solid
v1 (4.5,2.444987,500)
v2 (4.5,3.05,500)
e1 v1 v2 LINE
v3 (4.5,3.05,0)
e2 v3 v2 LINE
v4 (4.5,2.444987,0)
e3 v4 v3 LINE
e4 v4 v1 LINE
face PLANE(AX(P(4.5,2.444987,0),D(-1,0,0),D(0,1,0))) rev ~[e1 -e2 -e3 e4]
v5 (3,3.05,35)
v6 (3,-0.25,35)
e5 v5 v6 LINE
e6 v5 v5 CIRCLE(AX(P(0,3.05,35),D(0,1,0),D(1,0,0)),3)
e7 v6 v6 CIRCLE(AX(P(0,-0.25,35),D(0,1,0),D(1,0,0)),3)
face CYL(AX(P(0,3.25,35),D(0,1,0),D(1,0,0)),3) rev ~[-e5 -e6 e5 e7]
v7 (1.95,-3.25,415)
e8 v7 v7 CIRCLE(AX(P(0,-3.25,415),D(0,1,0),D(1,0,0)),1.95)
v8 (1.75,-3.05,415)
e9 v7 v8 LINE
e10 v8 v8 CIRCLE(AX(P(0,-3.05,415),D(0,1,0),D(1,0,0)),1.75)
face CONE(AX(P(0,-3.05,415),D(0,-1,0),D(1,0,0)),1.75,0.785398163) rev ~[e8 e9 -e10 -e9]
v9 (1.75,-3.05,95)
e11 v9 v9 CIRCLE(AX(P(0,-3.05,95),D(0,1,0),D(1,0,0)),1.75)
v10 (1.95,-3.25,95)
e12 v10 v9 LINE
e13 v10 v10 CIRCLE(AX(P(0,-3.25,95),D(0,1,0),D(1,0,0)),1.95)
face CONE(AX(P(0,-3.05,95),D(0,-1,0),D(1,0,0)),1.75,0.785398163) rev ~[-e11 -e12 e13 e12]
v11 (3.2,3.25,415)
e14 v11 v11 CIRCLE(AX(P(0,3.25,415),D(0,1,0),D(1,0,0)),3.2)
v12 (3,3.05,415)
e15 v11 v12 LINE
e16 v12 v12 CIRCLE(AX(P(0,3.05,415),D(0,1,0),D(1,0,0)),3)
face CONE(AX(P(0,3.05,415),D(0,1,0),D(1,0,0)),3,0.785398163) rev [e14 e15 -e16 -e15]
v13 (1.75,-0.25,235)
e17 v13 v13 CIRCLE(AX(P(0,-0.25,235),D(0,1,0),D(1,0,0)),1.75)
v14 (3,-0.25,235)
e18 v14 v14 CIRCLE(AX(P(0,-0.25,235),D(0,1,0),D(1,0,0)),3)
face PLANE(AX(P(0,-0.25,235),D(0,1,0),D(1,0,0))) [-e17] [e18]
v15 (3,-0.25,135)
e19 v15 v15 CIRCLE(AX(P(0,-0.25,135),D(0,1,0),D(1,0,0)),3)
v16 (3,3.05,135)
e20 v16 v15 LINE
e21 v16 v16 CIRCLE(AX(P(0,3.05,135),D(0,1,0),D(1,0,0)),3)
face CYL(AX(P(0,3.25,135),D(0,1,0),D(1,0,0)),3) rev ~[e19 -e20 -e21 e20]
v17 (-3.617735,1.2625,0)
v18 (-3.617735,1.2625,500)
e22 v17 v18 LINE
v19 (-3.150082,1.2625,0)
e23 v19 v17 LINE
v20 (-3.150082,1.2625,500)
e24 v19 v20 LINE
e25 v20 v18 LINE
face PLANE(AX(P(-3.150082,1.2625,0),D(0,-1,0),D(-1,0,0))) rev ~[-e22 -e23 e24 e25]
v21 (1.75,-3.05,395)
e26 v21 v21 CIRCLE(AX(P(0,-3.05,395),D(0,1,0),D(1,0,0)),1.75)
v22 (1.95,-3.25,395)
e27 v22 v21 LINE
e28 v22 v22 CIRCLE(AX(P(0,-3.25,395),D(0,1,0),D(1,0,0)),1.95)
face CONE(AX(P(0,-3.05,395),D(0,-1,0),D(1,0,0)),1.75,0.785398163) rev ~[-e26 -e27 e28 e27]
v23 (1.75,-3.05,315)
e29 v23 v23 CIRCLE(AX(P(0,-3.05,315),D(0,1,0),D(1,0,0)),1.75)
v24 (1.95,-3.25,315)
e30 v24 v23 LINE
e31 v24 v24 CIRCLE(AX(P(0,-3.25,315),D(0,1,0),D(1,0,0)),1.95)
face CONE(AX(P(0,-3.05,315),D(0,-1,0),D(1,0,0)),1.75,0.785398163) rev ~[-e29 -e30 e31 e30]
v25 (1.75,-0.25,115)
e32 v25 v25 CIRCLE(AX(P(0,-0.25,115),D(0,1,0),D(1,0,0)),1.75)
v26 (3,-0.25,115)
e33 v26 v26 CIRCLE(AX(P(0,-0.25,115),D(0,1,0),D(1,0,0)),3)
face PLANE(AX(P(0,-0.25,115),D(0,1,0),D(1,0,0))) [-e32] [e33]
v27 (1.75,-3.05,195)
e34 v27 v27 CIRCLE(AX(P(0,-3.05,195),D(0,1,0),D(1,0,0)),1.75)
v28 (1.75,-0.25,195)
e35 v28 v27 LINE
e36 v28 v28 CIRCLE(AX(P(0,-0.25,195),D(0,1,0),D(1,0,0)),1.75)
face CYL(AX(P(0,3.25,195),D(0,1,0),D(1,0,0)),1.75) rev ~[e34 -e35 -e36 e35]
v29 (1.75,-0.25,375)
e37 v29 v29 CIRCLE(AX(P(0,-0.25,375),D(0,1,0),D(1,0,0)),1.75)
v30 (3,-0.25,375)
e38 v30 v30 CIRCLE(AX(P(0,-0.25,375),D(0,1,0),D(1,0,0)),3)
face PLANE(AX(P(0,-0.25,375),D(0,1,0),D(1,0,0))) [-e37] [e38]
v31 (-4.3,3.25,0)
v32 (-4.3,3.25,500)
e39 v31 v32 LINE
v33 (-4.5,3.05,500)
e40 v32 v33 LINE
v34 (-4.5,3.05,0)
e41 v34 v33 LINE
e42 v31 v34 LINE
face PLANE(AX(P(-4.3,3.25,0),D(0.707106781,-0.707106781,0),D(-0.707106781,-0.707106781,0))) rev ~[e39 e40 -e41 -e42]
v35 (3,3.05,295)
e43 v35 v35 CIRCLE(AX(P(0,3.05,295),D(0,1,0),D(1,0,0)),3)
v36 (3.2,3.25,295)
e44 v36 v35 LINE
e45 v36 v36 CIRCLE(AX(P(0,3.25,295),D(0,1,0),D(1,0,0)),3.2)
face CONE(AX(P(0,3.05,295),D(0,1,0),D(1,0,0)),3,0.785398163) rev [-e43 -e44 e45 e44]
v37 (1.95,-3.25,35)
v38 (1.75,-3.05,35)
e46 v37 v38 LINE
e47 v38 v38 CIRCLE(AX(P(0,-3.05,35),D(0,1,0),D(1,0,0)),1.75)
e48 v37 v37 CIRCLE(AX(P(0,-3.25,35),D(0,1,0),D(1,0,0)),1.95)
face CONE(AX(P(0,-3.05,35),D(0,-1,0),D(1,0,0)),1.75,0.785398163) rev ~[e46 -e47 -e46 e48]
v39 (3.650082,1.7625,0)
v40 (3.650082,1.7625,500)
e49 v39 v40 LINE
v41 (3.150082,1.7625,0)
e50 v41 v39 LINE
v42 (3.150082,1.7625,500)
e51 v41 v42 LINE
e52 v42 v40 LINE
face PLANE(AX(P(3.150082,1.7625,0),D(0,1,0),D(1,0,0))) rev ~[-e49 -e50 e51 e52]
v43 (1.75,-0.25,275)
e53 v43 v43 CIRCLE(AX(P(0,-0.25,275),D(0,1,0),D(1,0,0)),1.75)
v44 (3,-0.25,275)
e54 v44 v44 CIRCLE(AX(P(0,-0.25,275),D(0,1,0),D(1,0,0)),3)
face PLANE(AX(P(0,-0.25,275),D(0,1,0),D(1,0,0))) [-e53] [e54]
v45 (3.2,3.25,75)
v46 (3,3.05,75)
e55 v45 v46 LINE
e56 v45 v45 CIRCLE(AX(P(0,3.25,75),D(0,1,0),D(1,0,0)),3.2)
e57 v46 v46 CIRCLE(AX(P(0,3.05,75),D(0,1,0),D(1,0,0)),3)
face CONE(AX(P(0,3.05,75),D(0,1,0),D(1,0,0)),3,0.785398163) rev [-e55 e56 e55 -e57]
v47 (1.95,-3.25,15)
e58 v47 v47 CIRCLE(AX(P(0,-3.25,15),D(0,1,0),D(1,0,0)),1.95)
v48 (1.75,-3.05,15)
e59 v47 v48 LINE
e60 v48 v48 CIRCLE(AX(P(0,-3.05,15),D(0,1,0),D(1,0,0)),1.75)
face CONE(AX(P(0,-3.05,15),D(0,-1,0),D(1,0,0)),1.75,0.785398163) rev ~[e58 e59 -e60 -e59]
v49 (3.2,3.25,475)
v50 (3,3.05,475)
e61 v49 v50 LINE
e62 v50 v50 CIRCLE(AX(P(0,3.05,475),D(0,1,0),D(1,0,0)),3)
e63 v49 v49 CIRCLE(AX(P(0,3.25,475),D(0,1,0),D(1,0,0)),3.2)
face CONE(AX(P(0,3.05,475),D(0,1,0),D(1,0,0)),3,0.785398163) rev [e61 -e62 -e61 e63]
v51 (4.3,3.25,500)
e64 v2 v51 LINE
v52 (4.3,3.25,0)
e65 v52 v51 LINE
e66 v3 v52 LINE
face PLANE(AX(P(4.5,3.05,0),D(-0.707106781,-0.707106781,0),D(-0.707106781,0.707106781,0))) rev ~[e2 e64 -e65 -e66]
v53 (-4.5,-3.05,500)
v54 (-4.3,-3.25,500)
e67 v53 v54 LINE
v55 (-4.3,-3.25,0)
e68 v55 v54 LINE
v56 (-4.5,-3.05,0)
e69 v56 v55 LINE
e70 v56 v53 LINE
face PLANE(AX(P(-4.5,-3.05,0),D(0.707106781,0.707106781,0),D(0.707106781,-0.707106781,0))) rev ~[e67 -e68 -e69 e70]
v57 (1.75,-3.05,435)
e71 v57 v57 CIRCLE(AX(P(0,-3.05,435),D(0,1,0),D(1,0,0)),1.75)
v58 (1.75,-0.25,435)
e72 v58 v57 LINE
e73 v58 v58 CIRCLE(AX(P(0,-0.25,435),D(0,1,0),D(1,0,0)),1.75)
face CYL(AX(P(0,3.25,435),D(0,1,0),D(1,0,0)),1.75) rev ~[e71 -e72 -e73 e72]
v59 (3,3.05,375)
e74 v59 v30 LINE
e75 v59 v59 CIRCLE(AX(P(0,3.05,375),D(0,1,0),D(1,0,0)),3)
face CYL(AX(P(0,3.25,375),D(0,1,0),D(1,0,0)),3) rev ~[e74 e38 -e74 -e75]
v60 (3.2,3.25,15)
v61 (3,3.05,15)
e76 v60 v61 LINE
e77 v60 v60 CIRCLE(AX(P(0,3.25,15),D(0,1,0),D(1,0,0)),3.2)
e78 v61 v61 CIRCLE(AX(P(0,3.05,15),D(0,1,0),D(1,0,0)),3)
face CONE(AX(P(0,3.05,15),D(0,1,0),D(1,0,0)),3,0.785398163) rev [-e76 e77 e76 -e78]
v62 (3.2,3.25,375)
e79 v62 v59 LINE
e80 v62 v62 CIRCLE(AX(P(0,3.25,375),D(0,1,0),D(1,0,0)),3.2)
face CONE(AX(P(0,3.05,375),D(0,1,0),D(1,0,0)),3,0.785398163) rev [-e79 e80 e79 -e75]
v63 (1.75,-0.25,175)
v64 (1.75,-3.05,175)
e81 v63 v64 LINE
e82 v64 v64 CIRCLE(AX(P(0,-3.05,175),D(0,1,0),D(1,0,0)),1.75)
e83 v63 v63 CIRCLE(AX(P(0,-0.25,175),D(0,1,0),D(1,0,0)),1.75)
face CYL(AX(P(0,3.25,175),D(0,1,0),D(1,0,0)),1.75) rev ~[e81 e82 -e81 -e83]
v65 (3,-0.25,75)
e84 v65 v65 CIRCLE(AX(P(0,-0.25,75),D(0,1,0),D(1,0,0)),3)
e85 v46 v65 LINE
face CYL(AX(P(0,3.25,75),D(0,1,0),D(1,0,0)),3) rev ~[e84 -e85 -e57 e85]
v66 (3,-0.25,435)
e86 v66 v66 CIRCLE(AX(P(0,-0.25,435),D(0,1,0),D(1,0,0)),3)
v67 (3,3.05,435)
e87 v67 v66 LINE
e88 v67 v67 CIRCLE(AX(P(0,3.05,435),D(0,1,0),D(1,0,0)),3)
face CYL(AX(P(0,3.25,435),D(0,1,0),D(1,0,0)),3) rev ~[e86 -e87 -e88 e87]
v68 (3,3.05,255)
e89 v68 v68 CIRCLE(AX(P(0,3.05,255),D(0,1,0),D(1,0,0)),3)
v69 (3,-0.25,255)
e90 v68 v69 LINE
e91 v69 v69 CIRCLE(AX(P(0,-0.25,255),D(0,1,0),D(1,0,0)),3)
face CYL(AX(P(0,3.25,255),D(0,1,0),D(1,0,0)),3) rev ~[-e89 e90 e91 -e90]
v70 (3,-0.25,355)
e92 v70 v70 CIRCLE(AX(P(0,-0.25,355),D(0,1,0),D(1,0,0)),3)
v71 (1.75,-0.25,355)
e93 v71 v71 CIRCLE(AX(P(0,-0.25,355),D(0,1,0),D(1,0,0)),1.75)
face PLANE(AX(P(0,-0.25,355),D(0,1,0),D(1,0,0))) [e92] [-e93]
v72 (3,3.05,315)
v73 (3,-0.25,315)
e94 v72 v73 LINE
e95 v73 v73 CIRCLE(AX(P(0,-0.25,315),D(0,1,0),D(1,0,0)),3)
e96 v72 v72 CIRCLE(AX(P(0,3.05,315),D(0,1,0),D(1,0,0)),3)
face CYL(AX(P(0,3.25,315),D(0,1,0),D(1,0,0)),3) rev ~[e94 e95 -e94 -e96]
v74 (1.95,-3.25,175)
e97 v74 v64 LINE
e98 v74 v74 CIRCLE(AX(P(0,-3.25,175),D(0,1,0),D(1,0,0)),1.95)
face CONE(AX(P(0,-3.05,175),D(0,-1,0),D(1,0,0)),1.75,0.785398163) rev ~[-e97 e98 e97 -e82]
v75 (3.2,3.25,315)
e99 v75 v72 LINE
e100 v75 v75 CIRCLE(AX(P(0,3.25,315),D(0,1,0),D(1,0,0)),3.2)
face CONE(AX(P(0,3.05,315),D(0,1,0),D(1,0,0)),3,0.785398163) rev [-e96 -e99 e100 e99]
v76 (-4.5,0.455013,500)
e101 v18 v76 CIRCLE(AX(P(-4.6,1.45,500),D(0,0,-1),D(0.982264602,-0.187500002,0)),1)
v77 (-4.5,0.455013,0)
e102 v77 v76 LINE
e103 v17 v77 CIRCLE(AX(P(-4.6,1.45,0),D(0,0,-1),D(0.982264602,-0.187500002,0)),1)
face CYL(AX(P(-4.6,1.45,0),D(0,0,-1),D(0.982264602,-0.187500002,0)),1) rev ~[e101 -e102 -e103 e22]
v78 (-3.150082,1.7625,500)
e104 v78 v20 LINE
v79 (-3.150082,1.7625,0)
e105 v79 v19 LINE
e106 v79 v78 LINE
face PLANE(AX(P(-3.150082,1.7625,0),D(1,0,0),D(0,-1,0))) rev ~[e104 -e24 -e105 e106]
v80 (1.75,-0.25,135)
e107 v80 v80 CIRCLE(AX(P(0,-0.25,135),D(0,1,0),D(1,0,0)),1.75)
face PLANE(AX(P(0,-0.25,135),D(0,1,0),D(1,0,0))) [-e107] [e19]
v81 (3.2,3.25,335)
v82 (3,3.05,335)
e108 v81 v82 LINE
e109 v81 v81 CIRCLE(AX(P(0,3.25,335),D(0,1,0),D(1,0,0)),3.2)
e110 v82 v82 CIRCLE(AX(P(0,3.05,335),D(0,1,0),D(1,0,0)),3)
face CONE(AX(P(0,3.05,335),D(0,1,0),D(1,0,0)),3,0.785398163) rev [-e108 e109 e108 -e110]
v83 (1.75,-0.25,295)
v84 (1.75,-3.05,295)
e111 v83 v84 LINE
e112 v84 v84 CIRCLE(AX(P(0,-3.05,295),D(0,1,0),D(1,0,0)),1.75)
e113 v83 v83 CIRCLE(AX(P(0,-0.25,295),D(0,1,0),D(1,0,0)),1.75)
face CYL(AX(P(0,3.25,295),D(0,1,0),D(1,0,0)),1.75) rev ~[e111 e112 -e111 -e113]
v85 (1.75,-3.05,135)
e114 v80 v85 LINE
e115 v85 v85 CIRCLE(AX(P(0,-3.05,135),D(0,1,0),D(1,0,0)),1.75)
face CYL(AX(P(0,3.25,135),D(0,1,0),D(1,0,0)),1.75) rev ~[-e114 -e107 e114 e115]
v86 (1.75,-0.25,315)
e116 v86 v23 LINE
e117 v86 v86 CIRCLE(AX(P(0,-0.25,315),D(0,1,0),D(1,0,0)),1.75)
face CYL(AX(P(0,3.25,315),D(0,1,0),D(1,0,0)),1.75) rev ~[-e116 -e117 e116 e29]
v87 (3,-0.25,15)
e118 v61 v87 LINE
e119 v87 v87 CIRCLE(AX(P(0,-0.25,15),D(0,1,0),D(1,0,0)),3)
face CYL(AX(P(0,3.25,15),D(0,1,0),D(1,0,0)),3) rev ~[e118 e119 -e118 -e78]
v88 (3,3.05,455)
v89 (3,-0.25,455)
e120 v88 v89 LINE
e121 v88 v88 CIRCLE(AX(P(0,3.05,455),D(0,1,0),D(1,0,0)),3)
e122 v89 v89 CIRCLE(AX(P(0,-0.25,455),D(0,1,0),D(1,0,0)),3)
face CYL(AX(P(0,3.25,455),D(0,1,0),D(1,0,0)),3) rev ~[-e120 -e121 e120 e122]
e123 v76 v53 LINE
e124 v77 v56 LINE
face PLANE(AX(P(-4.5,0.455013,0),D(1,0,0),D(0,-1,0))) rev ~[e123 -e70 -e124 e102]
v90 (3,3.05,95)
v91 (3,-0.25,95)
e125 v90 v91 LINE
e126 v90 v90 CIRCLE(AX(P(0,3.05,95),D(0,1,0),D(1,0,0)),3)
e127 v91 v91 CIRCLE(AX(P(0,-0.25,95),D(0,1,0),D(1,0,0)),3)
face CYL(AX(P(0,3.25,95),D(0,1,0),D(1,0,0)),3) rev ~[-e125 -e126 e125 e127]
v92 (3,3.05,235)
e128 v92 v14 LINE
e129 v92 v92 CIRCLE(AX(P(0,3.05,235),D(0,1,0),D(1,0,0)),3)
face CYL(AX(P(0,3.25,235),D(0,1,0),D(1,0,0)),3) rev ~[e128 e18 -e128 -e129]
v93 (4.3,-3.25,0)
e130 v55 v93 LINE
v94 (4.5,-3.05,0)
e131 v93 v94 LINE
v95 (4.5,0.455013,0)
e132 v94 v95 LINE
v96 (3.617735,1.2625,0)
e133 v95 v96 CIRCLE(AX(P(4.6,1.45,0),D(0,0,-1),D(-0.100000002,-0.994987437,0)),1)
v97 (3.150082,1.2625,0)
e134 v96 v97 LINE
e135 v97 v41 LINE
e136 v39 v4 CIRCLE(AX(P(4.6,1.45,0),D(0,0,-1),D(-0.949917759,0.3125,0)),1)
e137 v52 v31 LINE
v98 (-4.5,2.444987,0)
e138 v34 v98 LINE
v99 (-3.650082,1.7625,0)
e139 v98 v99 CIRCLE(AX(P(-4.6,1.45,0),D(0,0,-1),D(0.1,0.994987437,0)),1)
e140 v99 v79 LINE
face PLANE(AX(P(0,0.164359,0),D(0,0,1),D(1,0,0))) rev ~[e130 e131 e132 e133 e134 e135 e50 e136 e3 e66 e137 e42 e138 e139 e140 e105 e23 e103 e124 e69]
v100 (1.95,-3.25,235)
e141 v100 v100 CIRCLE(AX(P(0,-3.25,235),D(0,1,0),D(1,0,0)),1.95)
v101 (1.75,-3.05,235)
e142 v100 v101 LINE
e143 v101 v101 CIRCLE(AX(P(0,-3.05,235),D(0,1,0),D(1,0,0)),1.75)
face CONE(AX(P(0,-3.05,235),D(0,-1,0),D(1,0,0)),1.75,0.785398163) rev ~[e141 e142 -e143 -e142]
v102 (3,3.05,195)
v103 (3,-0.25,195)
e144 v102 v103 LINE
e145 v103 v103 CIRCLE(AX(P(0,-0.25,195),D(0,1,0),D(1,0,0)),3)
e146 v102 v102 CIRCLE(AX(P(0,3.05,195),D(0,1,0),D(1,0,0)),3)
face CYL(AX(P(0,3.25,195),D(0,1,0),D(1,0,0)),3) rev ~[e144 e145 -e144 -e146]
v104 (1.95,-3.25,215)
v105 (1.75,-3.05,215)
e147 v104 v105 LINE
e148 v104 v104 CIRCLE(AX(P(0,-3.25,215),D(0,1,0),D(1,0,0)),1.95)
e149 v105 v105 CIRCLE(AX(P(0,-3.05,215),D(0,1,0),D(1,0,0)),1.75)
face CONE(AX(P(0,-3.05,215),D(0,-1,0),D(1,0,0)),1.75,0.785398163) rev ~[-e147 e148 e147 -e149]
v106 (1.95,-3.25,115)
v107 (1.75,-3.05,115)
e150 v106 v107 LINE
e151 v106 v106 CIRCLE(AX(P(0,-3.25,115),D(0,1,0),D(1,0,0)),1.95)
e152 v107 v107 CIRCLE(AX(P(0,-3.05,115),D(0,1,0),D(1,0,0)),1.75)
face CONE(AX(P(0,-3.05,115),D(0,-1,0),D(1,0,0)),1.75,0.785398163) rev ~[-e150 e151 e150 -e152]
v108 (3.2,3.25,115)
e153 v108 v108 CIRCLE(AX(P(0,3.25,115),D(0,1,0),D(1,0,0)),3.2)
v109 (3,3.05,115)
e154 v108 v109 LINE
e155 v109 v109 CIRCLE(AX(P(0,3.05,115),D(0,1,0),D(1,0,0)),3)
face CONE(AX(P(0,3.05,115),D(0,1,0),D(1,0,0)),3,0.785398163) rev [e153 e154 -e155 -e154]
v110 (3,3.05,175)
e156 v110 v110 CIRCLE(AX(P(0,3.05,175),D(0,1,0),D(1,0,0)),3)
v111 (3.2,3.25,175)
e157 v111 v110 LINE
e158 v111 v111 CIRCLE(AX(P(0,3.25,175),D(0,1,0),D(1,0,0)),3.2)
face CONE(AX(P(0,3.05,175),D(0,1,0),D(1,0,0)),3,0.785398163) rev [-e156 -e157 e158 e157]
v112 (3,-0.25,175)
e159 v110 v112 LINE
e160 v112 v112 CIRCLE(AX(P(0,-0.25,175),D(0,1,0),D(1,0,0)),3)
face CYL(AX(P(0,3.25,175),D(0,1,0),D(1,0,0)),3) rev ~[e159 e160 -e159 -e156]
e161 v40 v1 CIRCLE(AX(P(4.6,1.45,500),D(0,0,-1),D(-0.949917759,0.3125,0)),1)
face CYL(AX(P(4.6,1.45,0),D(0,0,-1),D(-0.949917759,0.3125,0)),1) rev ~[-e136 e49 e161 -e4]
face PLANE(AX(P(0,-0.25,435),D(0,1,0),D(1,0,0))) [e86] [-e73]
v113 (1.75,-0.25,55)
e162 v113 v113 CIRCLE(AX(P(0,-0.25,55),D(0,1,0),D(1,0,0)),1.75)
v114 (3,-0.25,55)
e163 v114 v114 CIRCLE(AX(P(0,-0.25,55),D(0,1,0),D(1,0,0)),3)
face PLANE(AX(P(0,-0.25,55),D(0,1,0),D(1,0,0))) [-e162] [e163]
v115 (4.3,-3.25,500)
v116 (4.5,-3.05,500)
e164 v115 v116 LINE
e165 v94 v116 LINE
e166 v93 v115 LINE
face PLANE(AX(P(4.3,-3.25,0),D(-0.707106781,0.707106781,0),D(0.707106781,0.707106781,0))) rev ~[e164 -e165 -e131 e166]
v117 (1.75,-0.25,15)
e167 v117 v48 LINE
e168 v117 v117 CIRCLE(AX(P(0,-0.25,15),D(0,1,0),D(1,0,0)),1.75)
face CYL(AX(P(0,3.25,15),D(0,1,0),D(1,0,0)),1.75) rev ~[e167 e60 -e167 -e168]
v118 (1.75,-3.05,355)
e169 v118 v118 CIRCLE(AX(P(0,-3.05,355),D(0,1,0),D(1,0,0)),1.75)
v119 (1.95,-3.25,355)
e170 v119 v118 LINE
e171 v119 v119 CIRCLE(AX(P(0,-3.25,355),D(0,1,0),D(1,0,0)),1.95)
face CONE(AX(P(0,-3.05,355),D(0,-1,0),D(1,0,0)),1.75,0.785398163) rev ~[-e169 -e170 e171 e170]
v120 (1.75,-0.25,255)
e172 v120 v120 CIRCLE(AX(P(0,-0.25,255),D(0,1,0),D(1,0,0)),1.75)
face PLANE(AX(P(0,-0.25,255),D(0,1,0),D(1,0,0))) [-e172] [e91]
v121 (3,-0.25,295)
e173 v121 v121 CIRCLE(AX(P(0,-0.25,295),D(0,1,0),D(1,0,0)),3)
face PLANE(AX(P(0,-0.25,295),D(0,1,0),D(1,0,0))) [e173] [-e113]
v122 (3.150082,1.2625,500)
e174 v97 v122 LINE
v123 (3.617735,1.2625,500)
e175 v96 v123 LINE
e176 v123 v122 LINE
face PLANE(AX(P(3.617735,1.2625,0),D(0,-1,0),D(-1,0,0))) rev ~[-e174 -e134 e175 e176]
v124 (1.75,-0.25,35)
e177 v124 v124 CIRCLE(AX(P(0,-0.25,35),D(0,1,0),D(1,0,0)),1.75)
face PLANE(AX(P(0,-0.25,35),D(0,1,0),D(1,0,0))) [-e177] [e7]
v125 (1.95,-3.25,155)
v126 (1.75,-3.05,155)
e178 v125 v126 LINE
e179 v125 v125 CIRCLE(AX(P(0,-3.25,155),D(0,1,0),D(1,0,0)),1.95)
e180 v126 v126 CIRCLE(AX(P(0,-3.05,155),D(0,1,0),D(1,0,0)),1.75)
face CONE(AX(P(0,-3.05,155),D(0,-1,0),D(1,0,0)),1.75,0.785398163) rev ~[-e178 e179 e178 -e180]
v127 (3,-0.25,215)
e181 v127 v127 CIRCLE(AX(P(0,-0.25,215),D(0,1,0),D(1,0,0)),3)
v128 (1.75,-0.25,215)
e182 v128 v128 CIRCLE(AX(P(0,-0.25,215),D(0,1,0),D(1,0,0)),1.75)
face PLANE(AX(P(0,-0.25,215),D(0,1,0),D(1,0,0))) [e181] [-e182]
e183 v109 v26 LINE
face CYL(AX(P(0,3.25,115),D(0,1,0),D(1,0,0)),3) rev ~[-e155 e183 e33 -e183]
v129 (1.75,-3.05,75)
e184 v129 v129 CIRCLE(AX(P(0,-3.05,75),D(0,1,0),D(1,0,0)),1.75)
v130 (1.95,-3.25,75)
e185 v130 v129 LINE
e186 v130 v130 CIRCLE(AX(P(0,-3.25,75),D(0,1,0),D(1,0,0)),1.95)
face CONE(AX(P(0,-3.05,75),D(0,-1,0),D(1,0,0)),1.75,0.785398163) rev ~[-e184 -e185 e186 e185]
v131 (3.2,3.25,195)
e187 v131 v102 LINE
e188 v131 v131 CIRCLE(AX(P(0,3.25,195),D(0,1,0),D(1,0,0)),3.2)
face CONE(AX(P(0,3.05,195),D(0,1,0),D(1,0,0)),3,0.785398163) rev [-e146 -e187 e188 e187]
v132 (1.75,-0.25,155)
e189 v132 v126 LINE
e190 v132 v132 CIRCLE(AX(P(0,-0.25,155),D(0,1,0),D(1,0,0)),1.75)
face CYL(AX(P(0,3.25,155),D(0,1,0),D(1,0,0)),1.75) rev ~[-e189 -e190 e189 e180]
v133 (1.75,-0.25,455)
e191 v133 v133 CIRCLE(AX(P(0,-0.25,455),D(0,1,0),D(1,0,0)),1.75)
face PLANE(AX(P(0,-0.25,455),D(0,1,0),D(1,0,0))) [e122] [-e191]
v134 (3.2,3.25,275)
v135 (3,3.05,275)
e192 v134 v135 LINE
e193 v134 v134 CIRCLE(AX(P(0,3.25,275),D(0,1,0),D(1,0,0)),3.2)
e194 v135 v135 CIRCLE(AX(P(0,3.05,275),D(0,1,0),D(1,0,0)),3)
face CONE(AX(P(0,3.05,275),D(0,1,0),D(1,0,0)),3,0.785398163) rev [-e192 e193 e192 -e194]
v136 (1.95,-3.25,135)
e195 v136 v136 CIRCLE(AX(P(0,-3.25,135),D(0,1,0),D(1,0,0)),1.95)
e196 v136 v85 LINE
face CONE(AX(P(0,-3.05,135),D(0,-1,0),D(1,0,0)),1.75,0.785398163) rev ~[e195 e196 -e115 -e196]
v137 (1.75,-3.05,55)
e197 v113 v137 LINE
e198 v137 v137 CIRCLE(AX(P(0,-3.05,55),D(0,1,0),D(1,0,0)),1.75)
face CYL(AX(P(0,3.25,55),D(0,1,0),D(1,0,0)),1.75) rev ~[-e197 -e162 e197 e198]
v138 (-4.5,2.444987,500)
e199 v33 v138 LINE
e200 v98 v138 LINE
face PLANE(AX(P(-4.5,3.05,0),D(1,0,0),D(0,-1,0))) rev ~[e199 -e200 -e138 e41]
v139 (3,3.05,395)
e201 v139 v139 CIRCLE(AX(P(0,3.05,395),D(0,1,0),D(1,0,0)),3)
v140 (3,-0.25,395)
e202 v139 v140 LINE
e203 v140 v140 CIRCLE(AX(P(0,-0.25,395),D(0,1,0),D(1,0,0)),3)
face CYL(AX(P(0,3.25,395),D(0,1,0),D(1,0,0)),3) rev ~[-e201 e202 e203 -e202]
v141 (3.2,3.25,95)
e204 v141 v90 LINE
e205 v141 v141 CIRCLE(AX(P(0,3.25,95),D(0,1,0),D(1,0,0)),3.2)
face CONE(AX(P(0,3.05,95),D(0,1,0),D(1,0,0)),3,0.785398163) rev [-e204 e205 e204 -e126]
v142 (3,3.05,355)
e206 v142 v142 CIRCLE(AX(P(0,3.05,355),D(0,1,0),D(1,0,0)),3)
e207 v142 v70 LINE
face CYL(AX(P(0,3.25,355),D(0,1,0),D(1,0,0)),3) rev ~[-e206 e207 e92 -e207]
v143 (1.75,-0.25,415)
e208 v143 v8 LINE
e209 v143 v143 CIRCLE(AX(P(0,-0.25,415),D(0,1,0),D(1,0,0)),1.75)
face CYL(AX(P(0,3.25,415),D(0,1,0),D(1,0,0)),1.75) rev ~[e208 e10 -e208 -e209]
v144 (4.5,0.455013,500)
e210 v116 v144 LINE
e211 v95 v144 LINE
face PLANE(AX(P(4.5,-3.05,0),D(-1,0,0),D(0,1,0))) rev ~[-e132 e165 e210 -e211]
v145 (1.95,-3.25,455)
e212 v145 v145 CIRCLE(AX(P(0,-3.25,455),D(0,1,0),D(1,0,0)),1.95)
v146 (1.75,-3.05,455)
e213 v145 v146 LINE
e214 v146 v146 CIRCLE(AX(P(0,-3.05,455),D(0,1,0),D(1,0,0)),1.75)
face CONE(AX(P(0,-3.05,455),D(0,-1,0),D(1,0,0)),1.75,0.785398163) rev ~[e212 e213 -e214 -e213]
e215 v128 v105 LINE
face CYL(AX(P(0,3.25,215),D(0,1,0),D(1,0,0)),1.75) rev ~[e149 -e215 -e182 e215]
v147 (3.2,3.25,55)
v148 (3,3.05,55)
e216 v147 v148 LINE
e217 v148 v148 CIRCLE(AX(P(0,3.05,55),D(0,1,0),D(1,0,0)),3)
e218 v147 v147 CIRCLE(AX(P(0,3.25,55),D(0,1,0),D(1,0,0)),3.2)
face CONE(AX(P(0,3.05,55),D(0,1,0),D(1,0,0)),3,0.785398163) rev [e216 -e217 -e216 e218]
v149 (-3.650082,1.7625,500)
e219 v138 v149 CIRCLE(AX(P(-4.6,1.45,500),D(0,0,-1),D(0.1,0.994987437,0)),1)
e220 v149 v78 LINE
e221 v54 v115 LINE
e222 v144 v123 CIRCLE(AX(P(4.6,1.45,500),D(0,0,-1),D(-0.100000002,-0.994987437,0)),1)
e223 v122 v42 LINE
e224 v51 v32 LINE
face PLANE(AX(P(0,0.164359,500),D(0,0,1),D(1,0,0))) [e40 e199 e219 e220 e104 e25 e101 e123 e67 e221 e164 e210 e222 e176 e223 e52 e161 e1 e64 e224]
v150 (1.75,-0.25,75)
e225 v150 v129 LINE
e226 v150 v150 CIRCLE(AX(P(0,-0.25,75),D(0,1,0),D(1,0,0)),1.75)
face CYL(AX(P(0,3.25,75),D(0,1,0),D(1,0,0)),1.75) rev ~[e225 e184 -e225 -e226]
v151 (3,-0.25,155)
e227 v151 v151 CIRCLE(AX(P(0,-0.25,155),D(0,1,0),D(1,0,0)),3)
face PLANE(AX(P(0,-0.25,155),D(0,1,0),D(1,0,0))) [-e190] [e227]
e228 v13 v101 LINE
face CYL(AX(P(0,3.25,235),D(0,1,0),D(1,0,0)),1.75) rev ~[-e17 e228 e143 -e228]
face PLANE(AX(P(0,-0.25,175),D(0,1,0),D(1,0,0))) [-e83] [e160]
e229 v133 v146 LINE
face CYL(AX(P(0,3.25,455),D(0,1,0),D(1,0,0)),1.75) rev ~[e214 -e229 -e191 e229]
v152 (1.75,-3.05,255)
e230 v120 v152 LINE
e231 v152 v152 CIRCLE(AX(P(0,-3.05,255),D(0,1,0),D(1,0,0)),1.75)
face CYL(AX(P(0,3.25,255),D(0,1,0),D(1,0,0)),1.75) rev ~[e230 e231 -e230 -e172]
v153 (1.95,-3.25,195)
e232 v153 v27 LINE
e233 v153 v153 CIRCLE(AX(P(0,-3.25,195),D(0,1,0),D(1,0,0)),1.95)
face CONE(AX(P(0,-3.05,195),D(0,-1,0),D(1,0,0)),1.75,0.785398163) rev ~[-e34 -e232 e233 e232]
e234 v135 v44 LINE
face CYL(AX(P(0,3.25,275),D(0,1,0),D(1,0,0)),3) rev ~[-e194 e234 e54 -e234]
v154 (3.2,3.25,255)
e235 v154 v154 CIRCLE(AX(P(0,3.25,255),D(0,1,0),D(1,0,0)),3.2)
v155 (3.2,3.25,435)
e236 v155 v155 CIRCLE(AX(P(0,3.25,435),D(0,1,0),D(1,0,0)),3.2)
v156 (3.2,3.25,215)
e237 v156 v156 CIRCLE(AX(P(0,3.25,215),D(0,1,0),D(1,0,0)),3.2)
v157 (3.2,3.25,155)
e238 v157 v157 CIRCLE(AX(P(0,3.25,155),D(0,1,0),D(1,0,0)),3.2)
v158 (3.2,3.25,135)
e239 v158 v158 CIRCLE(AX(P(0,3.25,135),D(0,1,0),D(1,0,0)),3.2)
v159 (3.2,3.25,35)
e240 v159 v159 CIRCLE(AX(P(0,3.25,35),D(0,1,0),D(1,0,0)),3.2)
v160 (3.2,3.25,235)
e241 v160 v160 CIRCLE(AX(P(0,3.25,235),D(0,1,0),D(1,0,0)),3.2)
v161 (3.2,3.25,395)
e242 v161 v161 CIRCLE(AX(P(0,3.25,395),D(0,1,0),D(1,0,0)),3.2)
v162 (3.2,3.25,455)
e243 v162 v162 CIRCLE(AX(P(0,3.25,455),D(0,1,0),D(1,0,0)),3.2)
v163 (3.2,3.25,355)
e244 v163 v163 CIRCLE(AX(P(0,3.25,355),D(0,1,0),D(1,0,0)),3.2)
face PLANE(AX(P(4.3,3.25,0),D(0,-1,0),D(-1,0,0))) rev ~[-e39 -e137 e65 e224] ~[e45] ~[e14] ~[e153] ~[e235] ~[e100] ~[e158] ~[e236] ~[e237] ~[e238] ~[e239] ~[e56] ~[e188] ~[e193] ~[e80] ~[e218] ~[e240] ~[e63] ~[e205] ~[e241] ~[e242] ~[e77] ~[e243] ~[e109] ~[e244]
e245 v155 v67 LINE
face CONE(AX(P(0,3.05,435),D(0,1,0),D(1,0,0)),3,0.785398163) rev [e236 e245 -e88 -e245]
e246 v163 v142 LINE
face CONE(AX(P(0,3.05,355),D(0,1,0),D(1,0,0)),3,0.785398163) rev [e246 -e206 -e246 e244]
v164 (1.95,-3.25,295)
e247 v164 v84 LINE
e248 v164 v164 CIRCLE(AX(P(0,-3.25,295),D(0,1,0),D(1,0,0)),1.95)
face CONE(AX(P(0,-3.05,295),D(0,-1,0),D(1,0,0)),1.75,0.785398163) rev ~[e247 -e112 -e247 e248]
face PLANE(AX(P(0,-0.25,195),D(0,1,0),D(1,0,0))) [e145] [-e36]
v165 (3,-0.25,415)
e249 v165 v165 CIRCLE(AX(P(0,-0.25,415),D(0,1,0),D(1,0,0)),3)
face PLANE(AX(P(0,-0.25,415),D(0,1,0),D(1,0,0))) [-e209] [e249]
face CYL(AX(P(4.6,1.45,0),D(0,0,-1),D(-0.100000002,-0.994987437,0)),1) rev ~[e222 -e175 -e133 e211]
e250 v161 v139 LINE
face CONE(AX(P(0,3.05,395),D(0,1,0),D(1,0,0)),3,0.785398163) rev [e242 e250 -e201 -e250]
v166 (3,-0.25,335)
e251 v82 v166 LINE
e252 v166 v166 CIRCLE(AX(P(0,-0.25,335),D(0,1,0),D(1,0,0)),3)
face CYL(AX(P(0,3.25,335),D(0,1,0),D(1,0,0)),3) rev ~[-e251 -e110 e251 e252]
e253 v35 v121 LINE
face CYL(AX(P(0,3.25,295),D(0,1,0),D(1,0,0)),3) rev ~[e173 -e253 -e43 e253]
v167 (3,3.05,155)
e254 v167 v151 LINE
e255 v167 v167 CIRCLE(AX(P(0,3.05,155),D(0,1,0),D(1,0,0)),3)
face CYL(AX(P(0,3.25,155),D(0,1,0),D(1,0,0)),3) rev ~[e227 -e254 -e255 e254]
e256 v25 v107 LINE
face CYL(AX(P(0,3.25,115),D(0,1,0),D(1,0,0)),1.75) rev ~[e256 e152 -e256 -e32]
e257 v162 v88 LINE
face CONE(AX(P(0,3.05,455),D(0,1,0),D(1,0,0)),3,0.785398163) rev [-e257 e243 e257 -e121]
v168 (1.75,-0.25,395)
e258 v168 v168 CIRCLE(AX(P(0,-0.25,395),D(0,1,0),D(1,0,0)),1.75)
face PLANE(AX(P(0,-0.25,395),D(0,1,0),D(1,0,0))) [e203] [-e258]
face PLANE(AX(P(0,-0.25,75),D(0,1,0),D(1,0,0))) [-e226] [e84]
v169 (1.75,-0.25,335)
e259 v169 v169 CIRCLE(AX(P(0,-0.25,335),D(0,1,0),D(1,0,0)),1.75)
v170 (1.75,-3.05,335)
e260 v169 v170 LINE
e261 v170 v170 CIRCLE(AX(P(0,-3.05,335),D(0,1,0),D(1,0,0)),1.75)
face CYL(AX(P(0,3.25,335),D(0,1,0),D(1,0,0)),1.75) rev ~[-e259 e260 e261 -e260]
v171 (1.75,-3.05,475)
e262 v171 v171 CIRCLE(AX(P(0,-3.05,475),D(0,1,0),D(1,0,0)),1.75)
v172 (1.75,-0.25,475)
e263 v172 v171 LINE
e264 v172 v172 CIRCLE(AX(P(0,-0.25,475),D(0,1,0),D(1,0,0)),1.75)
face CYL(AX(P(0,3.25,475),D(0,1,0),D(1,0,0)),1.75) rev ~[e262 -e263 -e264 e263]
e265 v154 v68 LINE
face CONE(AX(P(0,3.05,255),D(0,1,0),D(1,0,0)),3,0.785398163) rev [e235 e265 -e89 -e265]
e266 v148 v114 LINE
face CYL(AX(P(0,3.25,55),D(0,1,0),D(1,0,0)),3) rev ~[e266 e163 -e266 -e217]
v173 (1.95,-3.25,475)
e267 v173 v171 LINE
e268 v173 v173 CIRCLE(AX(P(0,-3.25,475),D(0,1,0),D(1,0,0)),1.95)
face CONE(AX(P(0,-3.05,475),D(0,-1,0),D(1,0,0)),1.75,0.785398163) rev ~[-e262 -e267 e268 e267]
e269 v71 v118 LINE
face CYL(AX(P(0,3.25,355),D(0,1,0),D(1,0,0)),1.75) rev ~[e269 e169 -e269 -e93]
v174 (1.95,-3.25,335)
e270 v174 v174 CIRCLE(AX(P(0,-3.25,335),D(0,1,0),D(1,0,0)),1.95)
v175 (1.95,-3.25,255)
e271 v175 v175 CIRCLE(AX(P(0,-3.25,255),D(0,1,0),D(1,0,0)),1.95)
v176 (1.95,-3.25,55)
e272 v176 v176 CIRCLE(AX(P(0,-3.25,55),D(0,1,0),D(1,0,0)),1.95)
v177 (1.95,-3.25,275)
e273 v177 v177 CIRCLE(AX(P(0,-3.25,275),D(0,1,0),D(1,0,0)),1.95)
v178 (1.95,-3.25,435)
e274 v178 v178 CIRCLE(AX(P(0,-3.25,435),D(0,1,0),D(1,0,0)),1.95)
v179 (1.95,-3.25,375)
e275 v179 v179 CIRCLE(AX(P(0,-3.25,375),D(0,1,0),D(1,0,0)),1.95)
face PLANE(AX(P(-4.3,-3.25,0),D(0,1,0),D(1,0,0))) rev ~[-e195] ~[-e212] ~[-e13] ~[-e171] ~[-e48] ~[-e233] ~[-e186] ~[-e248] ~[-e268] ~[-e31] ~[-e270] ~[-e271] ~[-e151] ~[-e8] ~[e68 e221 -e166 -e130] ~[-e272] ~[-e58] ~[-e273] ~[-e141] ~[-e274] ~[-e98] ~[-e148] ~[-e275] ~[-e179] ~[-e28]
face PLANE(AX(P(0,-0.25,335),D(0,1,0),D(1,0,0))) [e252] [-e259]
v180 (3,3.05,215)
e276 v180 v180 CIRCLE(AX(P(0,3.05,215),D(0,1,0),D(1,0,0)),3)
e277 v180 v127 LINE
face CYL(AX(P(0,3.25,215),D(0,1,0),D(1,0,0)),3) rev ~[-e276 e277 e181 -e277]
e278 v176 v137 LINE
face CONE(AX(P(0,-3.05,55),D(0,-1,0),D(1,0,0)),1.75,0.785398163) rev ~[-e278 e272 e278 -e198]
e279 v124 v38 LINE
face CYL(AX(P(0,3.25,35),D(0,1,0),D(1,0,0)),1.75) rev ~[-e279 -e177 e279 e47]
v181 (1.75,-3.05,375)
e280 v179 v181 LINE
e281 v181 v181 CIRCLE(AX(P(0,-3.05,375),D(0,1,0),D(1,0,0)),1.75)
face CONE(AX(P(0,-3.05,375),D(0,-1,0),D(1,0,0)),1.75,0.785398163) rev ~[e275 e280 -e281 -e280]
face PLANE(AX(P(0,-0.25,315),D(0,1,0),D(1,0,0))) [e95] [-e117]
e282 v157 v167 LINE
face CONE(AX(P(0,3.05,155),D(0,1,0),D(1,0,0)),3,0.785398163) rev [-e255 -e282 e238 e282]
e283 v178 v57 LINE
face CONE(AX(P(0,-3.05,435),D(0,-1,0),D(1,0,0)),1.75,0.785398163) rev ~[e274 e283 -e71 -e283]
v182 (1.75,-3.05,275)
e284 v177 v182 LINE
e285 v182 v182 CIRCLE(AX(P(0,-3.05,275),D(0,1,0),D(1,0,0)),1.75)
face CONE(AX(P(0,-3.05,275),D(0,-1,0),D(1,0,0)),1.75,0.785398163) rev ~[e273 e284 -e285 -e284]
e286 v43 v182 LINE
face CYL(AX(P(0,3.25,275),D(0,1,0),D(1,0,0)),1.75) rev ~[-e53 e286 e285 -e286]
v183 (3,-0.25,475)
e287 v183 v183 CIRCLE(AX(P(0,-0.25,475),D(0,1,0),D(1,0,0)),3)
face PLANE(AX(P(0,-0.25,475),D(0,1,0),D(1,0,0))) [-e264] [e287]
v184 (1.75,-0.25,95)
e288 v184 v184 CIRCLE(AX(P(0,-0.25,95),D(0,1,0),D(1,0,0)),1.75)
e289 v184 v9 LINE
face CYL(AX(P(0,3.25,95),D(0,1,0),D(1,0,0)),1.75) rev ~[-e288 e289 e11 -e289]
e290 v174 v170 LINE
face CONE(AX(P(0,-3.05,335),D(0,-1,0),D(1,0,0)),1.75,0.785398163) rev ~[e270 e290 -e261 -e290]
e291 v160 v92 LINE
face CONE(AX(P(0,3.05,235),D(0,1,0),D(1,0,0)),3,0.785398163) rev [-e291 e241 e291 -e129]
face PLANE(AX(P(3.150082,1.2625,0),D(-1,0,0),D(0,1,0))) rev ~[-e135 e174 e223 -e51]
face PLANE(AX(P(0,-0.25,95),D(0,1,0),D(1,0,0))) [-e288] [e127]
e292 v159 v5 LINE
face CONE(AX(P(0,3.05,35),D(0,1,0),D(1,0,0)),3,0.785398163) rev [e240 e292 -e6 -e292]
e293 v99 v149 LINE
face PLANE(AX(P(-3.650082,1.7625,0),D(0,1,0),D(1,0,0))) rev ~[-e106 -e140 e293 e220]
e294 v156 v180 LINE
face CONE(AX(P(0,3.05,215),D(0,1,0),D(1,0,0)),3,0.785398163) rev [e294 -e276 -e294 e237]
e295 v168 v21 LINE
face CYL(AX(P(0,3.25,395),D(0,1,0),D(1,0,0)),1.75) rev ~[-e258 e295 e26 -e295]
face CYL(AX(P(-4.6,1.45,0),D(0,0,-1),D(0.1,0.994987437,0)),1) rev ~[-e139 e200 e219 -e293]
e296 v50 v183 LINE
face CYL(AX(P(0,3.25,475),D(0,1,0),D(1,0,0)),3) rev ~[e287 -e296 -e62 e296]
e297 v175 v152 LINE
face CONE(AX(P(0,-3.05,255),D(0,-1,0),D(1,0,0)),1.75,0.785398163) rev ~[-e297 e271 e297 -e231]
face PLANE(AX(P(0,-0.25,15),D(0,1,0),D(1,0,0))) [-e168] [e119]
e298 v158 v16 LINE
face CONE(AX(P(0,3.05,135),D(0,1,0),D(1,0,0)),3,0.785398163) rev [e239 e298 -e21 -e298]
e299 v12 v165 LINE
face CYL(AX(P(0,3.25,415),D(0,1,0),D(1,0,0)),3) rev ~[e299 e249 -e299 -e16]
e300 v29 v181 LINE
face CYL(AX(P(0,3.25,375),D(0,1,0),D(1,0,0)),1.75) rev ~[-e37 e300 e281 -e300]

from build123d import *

# Parameters (mm, degrees)
EXTRUDE1_DEPTH             = 500
EXTRUDE2_REACH             = 502.062
SKETCH2_R                  = 1.75
SKETCH_R                   = 3
SKETCH_R_2                 = 1.75
EXTRUDE4_DEPTH             = 3.5
CHAMFER1_SIZE              = 0.2
LPATTERN1_COUNT            = 24
LPATTERN1_PITCH            = 20
CHAMFER1_OF_LPATTERN1_SIZE = 0.2


with BuildPart() as part:
    # Sketch1 → Extrude1 (new body)
    with BuildSketch(Plane.XY):
        with BuildLine():
            Line((-4.3, -3.25), (4.3, -3.25))
            Line((4.3, -3.25), (4.5, -3.05))
            Line((4.5, -3.05), (4.5, 0.455012563))
            ThreePointArc((4.5, 0.455012563), (3.924845827, 0.712323349), (3.617735397, 1.2625))
            Line((3.617735397, 1.2625), (3.15008224, 1.2625))
            Line((3.15008224, 1.2625), (3.15008224, 1.7625))
            Line((3.15008224, 1.7625), (3.65008224, 1.7625))
            ThreePointArc((3.65008224, 1.7625), (3.973877727, 2.229724887), (4.5, 2.444987437))
            Line((4.5, 2.444987437), (4.5, 3.05))
            Line((4.5, 3.05), (4.3, 3.25))
            Line((4.3, 3.25), (-4.3, 3.25))
            Line((-4.3, 3.25), (-4.5, 3.05))
            Line((-4.5, 3.05), (-4.5, 2.444987437))
            ThreePointArc((-4.5, 2.444987437), (-3.973877727, 2.229724887), (-3.65008224, 1.7625))
            Line((-3.65008224, 1.7625), (-3.15008224, 1.7625))
            Line((-3.15008224, 1.7625), (-3.15008224, 1.2625))
            Line((-3.15008224, 1.2625), (-3.617735397, 1.2625))
            ThreePointArc((-3.617735397, 1.2625), (-3.924845827, 0.712323349), (-4.5, 0.455012563))
            Line((-4.5, 0.455012563), (-4.5, -3.05))
            Line((-4.5, -3.05), (-4.3, -3.25))
        make_face()
    extrude(amount=EXTRUDE1_DEPTH)

    # Sketch2 → Extrude2 (cut, up to next)
    with BuildSketch(Plane(origin=(0, 3.25, 0), x_dir=(1, 0, 0), z_dir=(0, 1, 0)), mode=Mode.PRIVATE) as extrude2_sk1:
        with Locations((0, -15)):
            Circle(SKETCH2_R)
    extrude2_tool1 = extrude(extrude2_sk1.sketch, amount=-EXTRUDE2_REACH, mode=Mode.PRIVATE) & part.part
    extrude2 = extrude2_tool1.solids().sort_by_distance((0, 3.25, 15))[0]
    add(extrude2, mode=Mode.SUBTRACT)

    # Sketch → Extrude4 (cut)
    with BuildSketch(Plane(origin=(0, 3.25, 0), x_dir=(1, 0, 0), z_dir=(0, 1, 0))):
        with Locations((0, -15)):
            Circle(SKETCH_R)
        with Locations((0, -15)):
            Circle(SKETCH_R_2, mode=Mode.SUBTRACT)
    extrude4 = extrude(amount=-EXTRUDE4_DEPTH, mode=Mode.SUBTRACT)

    # Chamfer1
    chamfer1_edges = [part.edges().sort_by_distance(p)[0] for p in [
        (-1.75, -3.25, 15),
        (-3, 3.25, 15),
    ]]
    chamfer(chamfer1_edges, length=CHAMFER1_SIZE)

    # LPattern1: Extrude2, Extrude4 ×24
    with Locations(*[(0, 0, i * LPATTERN1_PITCH) for i in range(1, LPATTERN1_COUNT)]):
        add(extrude2, mode=Mode.SUBTRACT)
        add(extrude4, mode=Mode.SUBTRACT)

    # Chamfer1 of LPattern1
    chamfer1_of_lpattern1_edges = [part.edges().sort_by_distance(p)[0] for p in [
        (-1.75, -3.25, 35),
        (-3, 3.25, 35),
        (-1.75, -3.25, 55),
        (-3, 3.25, 55),
        (-1.75, -3.25, 75),
        (-3, 3.25, 75),
        (-1.75, -3.25, 95),
        (-3, 3.25, 95),
        (-1.75, -3.25, 115),
        (-3, 3.25, 115),
        (-1.75, -3.25, 135),
        (-3, 3.25, 135),
        (-1.75, -3.25, 155),
        (-3, 3.25, 155),
        (-1.75, -3.25, 175),
        (-3, 3.25, 175),
        (-1.75, -3.25, 195),
        (-3, 3.25, 195),
        (-1.75, -3.25, 215),
        (-3, 3.25, 215),
        (-1.75, -3.25, 235),
        (-3, 3.25, 235),
        (-1.75, -3.25, 255),
        (-3, 3.25, 255),
        (-1.75, -3.25, 275),
        (-3, 3.25, 275),
        (-1.75, -3.25, 295),
        (-3, 3.25, 295),
        (-1.75, -3.25, 315),
        (-3, 3.25, 315),
        (-1.75, -3.25, 335),
        (-3, 3.25, 335),
        (-1.75, -3.25, 355),
        (-3, 3.25, 355),
        (-1.75, -3.25, 375),
        (-3, 3.25, 375),
        (-1.75, -3.25, 395),
        (-3, 3.25, 395),
        (-1.75, -3.25, 415),
        (-3, 3.25, 415),
        (-1.75, -3.25, 435),
        (-3, 3.25, 435),
        (-1.75, -3.25, 455),
        (-3, 3.25, 455),
        (-1.75, -3.25, 475),
        (-3, 3.25, 475),
    ]]
    chamfer(chamfer1_of_lpattern1_edges, length=CHAMFER1_OF_LPATTERN1_SIZE)


solid = part.part
